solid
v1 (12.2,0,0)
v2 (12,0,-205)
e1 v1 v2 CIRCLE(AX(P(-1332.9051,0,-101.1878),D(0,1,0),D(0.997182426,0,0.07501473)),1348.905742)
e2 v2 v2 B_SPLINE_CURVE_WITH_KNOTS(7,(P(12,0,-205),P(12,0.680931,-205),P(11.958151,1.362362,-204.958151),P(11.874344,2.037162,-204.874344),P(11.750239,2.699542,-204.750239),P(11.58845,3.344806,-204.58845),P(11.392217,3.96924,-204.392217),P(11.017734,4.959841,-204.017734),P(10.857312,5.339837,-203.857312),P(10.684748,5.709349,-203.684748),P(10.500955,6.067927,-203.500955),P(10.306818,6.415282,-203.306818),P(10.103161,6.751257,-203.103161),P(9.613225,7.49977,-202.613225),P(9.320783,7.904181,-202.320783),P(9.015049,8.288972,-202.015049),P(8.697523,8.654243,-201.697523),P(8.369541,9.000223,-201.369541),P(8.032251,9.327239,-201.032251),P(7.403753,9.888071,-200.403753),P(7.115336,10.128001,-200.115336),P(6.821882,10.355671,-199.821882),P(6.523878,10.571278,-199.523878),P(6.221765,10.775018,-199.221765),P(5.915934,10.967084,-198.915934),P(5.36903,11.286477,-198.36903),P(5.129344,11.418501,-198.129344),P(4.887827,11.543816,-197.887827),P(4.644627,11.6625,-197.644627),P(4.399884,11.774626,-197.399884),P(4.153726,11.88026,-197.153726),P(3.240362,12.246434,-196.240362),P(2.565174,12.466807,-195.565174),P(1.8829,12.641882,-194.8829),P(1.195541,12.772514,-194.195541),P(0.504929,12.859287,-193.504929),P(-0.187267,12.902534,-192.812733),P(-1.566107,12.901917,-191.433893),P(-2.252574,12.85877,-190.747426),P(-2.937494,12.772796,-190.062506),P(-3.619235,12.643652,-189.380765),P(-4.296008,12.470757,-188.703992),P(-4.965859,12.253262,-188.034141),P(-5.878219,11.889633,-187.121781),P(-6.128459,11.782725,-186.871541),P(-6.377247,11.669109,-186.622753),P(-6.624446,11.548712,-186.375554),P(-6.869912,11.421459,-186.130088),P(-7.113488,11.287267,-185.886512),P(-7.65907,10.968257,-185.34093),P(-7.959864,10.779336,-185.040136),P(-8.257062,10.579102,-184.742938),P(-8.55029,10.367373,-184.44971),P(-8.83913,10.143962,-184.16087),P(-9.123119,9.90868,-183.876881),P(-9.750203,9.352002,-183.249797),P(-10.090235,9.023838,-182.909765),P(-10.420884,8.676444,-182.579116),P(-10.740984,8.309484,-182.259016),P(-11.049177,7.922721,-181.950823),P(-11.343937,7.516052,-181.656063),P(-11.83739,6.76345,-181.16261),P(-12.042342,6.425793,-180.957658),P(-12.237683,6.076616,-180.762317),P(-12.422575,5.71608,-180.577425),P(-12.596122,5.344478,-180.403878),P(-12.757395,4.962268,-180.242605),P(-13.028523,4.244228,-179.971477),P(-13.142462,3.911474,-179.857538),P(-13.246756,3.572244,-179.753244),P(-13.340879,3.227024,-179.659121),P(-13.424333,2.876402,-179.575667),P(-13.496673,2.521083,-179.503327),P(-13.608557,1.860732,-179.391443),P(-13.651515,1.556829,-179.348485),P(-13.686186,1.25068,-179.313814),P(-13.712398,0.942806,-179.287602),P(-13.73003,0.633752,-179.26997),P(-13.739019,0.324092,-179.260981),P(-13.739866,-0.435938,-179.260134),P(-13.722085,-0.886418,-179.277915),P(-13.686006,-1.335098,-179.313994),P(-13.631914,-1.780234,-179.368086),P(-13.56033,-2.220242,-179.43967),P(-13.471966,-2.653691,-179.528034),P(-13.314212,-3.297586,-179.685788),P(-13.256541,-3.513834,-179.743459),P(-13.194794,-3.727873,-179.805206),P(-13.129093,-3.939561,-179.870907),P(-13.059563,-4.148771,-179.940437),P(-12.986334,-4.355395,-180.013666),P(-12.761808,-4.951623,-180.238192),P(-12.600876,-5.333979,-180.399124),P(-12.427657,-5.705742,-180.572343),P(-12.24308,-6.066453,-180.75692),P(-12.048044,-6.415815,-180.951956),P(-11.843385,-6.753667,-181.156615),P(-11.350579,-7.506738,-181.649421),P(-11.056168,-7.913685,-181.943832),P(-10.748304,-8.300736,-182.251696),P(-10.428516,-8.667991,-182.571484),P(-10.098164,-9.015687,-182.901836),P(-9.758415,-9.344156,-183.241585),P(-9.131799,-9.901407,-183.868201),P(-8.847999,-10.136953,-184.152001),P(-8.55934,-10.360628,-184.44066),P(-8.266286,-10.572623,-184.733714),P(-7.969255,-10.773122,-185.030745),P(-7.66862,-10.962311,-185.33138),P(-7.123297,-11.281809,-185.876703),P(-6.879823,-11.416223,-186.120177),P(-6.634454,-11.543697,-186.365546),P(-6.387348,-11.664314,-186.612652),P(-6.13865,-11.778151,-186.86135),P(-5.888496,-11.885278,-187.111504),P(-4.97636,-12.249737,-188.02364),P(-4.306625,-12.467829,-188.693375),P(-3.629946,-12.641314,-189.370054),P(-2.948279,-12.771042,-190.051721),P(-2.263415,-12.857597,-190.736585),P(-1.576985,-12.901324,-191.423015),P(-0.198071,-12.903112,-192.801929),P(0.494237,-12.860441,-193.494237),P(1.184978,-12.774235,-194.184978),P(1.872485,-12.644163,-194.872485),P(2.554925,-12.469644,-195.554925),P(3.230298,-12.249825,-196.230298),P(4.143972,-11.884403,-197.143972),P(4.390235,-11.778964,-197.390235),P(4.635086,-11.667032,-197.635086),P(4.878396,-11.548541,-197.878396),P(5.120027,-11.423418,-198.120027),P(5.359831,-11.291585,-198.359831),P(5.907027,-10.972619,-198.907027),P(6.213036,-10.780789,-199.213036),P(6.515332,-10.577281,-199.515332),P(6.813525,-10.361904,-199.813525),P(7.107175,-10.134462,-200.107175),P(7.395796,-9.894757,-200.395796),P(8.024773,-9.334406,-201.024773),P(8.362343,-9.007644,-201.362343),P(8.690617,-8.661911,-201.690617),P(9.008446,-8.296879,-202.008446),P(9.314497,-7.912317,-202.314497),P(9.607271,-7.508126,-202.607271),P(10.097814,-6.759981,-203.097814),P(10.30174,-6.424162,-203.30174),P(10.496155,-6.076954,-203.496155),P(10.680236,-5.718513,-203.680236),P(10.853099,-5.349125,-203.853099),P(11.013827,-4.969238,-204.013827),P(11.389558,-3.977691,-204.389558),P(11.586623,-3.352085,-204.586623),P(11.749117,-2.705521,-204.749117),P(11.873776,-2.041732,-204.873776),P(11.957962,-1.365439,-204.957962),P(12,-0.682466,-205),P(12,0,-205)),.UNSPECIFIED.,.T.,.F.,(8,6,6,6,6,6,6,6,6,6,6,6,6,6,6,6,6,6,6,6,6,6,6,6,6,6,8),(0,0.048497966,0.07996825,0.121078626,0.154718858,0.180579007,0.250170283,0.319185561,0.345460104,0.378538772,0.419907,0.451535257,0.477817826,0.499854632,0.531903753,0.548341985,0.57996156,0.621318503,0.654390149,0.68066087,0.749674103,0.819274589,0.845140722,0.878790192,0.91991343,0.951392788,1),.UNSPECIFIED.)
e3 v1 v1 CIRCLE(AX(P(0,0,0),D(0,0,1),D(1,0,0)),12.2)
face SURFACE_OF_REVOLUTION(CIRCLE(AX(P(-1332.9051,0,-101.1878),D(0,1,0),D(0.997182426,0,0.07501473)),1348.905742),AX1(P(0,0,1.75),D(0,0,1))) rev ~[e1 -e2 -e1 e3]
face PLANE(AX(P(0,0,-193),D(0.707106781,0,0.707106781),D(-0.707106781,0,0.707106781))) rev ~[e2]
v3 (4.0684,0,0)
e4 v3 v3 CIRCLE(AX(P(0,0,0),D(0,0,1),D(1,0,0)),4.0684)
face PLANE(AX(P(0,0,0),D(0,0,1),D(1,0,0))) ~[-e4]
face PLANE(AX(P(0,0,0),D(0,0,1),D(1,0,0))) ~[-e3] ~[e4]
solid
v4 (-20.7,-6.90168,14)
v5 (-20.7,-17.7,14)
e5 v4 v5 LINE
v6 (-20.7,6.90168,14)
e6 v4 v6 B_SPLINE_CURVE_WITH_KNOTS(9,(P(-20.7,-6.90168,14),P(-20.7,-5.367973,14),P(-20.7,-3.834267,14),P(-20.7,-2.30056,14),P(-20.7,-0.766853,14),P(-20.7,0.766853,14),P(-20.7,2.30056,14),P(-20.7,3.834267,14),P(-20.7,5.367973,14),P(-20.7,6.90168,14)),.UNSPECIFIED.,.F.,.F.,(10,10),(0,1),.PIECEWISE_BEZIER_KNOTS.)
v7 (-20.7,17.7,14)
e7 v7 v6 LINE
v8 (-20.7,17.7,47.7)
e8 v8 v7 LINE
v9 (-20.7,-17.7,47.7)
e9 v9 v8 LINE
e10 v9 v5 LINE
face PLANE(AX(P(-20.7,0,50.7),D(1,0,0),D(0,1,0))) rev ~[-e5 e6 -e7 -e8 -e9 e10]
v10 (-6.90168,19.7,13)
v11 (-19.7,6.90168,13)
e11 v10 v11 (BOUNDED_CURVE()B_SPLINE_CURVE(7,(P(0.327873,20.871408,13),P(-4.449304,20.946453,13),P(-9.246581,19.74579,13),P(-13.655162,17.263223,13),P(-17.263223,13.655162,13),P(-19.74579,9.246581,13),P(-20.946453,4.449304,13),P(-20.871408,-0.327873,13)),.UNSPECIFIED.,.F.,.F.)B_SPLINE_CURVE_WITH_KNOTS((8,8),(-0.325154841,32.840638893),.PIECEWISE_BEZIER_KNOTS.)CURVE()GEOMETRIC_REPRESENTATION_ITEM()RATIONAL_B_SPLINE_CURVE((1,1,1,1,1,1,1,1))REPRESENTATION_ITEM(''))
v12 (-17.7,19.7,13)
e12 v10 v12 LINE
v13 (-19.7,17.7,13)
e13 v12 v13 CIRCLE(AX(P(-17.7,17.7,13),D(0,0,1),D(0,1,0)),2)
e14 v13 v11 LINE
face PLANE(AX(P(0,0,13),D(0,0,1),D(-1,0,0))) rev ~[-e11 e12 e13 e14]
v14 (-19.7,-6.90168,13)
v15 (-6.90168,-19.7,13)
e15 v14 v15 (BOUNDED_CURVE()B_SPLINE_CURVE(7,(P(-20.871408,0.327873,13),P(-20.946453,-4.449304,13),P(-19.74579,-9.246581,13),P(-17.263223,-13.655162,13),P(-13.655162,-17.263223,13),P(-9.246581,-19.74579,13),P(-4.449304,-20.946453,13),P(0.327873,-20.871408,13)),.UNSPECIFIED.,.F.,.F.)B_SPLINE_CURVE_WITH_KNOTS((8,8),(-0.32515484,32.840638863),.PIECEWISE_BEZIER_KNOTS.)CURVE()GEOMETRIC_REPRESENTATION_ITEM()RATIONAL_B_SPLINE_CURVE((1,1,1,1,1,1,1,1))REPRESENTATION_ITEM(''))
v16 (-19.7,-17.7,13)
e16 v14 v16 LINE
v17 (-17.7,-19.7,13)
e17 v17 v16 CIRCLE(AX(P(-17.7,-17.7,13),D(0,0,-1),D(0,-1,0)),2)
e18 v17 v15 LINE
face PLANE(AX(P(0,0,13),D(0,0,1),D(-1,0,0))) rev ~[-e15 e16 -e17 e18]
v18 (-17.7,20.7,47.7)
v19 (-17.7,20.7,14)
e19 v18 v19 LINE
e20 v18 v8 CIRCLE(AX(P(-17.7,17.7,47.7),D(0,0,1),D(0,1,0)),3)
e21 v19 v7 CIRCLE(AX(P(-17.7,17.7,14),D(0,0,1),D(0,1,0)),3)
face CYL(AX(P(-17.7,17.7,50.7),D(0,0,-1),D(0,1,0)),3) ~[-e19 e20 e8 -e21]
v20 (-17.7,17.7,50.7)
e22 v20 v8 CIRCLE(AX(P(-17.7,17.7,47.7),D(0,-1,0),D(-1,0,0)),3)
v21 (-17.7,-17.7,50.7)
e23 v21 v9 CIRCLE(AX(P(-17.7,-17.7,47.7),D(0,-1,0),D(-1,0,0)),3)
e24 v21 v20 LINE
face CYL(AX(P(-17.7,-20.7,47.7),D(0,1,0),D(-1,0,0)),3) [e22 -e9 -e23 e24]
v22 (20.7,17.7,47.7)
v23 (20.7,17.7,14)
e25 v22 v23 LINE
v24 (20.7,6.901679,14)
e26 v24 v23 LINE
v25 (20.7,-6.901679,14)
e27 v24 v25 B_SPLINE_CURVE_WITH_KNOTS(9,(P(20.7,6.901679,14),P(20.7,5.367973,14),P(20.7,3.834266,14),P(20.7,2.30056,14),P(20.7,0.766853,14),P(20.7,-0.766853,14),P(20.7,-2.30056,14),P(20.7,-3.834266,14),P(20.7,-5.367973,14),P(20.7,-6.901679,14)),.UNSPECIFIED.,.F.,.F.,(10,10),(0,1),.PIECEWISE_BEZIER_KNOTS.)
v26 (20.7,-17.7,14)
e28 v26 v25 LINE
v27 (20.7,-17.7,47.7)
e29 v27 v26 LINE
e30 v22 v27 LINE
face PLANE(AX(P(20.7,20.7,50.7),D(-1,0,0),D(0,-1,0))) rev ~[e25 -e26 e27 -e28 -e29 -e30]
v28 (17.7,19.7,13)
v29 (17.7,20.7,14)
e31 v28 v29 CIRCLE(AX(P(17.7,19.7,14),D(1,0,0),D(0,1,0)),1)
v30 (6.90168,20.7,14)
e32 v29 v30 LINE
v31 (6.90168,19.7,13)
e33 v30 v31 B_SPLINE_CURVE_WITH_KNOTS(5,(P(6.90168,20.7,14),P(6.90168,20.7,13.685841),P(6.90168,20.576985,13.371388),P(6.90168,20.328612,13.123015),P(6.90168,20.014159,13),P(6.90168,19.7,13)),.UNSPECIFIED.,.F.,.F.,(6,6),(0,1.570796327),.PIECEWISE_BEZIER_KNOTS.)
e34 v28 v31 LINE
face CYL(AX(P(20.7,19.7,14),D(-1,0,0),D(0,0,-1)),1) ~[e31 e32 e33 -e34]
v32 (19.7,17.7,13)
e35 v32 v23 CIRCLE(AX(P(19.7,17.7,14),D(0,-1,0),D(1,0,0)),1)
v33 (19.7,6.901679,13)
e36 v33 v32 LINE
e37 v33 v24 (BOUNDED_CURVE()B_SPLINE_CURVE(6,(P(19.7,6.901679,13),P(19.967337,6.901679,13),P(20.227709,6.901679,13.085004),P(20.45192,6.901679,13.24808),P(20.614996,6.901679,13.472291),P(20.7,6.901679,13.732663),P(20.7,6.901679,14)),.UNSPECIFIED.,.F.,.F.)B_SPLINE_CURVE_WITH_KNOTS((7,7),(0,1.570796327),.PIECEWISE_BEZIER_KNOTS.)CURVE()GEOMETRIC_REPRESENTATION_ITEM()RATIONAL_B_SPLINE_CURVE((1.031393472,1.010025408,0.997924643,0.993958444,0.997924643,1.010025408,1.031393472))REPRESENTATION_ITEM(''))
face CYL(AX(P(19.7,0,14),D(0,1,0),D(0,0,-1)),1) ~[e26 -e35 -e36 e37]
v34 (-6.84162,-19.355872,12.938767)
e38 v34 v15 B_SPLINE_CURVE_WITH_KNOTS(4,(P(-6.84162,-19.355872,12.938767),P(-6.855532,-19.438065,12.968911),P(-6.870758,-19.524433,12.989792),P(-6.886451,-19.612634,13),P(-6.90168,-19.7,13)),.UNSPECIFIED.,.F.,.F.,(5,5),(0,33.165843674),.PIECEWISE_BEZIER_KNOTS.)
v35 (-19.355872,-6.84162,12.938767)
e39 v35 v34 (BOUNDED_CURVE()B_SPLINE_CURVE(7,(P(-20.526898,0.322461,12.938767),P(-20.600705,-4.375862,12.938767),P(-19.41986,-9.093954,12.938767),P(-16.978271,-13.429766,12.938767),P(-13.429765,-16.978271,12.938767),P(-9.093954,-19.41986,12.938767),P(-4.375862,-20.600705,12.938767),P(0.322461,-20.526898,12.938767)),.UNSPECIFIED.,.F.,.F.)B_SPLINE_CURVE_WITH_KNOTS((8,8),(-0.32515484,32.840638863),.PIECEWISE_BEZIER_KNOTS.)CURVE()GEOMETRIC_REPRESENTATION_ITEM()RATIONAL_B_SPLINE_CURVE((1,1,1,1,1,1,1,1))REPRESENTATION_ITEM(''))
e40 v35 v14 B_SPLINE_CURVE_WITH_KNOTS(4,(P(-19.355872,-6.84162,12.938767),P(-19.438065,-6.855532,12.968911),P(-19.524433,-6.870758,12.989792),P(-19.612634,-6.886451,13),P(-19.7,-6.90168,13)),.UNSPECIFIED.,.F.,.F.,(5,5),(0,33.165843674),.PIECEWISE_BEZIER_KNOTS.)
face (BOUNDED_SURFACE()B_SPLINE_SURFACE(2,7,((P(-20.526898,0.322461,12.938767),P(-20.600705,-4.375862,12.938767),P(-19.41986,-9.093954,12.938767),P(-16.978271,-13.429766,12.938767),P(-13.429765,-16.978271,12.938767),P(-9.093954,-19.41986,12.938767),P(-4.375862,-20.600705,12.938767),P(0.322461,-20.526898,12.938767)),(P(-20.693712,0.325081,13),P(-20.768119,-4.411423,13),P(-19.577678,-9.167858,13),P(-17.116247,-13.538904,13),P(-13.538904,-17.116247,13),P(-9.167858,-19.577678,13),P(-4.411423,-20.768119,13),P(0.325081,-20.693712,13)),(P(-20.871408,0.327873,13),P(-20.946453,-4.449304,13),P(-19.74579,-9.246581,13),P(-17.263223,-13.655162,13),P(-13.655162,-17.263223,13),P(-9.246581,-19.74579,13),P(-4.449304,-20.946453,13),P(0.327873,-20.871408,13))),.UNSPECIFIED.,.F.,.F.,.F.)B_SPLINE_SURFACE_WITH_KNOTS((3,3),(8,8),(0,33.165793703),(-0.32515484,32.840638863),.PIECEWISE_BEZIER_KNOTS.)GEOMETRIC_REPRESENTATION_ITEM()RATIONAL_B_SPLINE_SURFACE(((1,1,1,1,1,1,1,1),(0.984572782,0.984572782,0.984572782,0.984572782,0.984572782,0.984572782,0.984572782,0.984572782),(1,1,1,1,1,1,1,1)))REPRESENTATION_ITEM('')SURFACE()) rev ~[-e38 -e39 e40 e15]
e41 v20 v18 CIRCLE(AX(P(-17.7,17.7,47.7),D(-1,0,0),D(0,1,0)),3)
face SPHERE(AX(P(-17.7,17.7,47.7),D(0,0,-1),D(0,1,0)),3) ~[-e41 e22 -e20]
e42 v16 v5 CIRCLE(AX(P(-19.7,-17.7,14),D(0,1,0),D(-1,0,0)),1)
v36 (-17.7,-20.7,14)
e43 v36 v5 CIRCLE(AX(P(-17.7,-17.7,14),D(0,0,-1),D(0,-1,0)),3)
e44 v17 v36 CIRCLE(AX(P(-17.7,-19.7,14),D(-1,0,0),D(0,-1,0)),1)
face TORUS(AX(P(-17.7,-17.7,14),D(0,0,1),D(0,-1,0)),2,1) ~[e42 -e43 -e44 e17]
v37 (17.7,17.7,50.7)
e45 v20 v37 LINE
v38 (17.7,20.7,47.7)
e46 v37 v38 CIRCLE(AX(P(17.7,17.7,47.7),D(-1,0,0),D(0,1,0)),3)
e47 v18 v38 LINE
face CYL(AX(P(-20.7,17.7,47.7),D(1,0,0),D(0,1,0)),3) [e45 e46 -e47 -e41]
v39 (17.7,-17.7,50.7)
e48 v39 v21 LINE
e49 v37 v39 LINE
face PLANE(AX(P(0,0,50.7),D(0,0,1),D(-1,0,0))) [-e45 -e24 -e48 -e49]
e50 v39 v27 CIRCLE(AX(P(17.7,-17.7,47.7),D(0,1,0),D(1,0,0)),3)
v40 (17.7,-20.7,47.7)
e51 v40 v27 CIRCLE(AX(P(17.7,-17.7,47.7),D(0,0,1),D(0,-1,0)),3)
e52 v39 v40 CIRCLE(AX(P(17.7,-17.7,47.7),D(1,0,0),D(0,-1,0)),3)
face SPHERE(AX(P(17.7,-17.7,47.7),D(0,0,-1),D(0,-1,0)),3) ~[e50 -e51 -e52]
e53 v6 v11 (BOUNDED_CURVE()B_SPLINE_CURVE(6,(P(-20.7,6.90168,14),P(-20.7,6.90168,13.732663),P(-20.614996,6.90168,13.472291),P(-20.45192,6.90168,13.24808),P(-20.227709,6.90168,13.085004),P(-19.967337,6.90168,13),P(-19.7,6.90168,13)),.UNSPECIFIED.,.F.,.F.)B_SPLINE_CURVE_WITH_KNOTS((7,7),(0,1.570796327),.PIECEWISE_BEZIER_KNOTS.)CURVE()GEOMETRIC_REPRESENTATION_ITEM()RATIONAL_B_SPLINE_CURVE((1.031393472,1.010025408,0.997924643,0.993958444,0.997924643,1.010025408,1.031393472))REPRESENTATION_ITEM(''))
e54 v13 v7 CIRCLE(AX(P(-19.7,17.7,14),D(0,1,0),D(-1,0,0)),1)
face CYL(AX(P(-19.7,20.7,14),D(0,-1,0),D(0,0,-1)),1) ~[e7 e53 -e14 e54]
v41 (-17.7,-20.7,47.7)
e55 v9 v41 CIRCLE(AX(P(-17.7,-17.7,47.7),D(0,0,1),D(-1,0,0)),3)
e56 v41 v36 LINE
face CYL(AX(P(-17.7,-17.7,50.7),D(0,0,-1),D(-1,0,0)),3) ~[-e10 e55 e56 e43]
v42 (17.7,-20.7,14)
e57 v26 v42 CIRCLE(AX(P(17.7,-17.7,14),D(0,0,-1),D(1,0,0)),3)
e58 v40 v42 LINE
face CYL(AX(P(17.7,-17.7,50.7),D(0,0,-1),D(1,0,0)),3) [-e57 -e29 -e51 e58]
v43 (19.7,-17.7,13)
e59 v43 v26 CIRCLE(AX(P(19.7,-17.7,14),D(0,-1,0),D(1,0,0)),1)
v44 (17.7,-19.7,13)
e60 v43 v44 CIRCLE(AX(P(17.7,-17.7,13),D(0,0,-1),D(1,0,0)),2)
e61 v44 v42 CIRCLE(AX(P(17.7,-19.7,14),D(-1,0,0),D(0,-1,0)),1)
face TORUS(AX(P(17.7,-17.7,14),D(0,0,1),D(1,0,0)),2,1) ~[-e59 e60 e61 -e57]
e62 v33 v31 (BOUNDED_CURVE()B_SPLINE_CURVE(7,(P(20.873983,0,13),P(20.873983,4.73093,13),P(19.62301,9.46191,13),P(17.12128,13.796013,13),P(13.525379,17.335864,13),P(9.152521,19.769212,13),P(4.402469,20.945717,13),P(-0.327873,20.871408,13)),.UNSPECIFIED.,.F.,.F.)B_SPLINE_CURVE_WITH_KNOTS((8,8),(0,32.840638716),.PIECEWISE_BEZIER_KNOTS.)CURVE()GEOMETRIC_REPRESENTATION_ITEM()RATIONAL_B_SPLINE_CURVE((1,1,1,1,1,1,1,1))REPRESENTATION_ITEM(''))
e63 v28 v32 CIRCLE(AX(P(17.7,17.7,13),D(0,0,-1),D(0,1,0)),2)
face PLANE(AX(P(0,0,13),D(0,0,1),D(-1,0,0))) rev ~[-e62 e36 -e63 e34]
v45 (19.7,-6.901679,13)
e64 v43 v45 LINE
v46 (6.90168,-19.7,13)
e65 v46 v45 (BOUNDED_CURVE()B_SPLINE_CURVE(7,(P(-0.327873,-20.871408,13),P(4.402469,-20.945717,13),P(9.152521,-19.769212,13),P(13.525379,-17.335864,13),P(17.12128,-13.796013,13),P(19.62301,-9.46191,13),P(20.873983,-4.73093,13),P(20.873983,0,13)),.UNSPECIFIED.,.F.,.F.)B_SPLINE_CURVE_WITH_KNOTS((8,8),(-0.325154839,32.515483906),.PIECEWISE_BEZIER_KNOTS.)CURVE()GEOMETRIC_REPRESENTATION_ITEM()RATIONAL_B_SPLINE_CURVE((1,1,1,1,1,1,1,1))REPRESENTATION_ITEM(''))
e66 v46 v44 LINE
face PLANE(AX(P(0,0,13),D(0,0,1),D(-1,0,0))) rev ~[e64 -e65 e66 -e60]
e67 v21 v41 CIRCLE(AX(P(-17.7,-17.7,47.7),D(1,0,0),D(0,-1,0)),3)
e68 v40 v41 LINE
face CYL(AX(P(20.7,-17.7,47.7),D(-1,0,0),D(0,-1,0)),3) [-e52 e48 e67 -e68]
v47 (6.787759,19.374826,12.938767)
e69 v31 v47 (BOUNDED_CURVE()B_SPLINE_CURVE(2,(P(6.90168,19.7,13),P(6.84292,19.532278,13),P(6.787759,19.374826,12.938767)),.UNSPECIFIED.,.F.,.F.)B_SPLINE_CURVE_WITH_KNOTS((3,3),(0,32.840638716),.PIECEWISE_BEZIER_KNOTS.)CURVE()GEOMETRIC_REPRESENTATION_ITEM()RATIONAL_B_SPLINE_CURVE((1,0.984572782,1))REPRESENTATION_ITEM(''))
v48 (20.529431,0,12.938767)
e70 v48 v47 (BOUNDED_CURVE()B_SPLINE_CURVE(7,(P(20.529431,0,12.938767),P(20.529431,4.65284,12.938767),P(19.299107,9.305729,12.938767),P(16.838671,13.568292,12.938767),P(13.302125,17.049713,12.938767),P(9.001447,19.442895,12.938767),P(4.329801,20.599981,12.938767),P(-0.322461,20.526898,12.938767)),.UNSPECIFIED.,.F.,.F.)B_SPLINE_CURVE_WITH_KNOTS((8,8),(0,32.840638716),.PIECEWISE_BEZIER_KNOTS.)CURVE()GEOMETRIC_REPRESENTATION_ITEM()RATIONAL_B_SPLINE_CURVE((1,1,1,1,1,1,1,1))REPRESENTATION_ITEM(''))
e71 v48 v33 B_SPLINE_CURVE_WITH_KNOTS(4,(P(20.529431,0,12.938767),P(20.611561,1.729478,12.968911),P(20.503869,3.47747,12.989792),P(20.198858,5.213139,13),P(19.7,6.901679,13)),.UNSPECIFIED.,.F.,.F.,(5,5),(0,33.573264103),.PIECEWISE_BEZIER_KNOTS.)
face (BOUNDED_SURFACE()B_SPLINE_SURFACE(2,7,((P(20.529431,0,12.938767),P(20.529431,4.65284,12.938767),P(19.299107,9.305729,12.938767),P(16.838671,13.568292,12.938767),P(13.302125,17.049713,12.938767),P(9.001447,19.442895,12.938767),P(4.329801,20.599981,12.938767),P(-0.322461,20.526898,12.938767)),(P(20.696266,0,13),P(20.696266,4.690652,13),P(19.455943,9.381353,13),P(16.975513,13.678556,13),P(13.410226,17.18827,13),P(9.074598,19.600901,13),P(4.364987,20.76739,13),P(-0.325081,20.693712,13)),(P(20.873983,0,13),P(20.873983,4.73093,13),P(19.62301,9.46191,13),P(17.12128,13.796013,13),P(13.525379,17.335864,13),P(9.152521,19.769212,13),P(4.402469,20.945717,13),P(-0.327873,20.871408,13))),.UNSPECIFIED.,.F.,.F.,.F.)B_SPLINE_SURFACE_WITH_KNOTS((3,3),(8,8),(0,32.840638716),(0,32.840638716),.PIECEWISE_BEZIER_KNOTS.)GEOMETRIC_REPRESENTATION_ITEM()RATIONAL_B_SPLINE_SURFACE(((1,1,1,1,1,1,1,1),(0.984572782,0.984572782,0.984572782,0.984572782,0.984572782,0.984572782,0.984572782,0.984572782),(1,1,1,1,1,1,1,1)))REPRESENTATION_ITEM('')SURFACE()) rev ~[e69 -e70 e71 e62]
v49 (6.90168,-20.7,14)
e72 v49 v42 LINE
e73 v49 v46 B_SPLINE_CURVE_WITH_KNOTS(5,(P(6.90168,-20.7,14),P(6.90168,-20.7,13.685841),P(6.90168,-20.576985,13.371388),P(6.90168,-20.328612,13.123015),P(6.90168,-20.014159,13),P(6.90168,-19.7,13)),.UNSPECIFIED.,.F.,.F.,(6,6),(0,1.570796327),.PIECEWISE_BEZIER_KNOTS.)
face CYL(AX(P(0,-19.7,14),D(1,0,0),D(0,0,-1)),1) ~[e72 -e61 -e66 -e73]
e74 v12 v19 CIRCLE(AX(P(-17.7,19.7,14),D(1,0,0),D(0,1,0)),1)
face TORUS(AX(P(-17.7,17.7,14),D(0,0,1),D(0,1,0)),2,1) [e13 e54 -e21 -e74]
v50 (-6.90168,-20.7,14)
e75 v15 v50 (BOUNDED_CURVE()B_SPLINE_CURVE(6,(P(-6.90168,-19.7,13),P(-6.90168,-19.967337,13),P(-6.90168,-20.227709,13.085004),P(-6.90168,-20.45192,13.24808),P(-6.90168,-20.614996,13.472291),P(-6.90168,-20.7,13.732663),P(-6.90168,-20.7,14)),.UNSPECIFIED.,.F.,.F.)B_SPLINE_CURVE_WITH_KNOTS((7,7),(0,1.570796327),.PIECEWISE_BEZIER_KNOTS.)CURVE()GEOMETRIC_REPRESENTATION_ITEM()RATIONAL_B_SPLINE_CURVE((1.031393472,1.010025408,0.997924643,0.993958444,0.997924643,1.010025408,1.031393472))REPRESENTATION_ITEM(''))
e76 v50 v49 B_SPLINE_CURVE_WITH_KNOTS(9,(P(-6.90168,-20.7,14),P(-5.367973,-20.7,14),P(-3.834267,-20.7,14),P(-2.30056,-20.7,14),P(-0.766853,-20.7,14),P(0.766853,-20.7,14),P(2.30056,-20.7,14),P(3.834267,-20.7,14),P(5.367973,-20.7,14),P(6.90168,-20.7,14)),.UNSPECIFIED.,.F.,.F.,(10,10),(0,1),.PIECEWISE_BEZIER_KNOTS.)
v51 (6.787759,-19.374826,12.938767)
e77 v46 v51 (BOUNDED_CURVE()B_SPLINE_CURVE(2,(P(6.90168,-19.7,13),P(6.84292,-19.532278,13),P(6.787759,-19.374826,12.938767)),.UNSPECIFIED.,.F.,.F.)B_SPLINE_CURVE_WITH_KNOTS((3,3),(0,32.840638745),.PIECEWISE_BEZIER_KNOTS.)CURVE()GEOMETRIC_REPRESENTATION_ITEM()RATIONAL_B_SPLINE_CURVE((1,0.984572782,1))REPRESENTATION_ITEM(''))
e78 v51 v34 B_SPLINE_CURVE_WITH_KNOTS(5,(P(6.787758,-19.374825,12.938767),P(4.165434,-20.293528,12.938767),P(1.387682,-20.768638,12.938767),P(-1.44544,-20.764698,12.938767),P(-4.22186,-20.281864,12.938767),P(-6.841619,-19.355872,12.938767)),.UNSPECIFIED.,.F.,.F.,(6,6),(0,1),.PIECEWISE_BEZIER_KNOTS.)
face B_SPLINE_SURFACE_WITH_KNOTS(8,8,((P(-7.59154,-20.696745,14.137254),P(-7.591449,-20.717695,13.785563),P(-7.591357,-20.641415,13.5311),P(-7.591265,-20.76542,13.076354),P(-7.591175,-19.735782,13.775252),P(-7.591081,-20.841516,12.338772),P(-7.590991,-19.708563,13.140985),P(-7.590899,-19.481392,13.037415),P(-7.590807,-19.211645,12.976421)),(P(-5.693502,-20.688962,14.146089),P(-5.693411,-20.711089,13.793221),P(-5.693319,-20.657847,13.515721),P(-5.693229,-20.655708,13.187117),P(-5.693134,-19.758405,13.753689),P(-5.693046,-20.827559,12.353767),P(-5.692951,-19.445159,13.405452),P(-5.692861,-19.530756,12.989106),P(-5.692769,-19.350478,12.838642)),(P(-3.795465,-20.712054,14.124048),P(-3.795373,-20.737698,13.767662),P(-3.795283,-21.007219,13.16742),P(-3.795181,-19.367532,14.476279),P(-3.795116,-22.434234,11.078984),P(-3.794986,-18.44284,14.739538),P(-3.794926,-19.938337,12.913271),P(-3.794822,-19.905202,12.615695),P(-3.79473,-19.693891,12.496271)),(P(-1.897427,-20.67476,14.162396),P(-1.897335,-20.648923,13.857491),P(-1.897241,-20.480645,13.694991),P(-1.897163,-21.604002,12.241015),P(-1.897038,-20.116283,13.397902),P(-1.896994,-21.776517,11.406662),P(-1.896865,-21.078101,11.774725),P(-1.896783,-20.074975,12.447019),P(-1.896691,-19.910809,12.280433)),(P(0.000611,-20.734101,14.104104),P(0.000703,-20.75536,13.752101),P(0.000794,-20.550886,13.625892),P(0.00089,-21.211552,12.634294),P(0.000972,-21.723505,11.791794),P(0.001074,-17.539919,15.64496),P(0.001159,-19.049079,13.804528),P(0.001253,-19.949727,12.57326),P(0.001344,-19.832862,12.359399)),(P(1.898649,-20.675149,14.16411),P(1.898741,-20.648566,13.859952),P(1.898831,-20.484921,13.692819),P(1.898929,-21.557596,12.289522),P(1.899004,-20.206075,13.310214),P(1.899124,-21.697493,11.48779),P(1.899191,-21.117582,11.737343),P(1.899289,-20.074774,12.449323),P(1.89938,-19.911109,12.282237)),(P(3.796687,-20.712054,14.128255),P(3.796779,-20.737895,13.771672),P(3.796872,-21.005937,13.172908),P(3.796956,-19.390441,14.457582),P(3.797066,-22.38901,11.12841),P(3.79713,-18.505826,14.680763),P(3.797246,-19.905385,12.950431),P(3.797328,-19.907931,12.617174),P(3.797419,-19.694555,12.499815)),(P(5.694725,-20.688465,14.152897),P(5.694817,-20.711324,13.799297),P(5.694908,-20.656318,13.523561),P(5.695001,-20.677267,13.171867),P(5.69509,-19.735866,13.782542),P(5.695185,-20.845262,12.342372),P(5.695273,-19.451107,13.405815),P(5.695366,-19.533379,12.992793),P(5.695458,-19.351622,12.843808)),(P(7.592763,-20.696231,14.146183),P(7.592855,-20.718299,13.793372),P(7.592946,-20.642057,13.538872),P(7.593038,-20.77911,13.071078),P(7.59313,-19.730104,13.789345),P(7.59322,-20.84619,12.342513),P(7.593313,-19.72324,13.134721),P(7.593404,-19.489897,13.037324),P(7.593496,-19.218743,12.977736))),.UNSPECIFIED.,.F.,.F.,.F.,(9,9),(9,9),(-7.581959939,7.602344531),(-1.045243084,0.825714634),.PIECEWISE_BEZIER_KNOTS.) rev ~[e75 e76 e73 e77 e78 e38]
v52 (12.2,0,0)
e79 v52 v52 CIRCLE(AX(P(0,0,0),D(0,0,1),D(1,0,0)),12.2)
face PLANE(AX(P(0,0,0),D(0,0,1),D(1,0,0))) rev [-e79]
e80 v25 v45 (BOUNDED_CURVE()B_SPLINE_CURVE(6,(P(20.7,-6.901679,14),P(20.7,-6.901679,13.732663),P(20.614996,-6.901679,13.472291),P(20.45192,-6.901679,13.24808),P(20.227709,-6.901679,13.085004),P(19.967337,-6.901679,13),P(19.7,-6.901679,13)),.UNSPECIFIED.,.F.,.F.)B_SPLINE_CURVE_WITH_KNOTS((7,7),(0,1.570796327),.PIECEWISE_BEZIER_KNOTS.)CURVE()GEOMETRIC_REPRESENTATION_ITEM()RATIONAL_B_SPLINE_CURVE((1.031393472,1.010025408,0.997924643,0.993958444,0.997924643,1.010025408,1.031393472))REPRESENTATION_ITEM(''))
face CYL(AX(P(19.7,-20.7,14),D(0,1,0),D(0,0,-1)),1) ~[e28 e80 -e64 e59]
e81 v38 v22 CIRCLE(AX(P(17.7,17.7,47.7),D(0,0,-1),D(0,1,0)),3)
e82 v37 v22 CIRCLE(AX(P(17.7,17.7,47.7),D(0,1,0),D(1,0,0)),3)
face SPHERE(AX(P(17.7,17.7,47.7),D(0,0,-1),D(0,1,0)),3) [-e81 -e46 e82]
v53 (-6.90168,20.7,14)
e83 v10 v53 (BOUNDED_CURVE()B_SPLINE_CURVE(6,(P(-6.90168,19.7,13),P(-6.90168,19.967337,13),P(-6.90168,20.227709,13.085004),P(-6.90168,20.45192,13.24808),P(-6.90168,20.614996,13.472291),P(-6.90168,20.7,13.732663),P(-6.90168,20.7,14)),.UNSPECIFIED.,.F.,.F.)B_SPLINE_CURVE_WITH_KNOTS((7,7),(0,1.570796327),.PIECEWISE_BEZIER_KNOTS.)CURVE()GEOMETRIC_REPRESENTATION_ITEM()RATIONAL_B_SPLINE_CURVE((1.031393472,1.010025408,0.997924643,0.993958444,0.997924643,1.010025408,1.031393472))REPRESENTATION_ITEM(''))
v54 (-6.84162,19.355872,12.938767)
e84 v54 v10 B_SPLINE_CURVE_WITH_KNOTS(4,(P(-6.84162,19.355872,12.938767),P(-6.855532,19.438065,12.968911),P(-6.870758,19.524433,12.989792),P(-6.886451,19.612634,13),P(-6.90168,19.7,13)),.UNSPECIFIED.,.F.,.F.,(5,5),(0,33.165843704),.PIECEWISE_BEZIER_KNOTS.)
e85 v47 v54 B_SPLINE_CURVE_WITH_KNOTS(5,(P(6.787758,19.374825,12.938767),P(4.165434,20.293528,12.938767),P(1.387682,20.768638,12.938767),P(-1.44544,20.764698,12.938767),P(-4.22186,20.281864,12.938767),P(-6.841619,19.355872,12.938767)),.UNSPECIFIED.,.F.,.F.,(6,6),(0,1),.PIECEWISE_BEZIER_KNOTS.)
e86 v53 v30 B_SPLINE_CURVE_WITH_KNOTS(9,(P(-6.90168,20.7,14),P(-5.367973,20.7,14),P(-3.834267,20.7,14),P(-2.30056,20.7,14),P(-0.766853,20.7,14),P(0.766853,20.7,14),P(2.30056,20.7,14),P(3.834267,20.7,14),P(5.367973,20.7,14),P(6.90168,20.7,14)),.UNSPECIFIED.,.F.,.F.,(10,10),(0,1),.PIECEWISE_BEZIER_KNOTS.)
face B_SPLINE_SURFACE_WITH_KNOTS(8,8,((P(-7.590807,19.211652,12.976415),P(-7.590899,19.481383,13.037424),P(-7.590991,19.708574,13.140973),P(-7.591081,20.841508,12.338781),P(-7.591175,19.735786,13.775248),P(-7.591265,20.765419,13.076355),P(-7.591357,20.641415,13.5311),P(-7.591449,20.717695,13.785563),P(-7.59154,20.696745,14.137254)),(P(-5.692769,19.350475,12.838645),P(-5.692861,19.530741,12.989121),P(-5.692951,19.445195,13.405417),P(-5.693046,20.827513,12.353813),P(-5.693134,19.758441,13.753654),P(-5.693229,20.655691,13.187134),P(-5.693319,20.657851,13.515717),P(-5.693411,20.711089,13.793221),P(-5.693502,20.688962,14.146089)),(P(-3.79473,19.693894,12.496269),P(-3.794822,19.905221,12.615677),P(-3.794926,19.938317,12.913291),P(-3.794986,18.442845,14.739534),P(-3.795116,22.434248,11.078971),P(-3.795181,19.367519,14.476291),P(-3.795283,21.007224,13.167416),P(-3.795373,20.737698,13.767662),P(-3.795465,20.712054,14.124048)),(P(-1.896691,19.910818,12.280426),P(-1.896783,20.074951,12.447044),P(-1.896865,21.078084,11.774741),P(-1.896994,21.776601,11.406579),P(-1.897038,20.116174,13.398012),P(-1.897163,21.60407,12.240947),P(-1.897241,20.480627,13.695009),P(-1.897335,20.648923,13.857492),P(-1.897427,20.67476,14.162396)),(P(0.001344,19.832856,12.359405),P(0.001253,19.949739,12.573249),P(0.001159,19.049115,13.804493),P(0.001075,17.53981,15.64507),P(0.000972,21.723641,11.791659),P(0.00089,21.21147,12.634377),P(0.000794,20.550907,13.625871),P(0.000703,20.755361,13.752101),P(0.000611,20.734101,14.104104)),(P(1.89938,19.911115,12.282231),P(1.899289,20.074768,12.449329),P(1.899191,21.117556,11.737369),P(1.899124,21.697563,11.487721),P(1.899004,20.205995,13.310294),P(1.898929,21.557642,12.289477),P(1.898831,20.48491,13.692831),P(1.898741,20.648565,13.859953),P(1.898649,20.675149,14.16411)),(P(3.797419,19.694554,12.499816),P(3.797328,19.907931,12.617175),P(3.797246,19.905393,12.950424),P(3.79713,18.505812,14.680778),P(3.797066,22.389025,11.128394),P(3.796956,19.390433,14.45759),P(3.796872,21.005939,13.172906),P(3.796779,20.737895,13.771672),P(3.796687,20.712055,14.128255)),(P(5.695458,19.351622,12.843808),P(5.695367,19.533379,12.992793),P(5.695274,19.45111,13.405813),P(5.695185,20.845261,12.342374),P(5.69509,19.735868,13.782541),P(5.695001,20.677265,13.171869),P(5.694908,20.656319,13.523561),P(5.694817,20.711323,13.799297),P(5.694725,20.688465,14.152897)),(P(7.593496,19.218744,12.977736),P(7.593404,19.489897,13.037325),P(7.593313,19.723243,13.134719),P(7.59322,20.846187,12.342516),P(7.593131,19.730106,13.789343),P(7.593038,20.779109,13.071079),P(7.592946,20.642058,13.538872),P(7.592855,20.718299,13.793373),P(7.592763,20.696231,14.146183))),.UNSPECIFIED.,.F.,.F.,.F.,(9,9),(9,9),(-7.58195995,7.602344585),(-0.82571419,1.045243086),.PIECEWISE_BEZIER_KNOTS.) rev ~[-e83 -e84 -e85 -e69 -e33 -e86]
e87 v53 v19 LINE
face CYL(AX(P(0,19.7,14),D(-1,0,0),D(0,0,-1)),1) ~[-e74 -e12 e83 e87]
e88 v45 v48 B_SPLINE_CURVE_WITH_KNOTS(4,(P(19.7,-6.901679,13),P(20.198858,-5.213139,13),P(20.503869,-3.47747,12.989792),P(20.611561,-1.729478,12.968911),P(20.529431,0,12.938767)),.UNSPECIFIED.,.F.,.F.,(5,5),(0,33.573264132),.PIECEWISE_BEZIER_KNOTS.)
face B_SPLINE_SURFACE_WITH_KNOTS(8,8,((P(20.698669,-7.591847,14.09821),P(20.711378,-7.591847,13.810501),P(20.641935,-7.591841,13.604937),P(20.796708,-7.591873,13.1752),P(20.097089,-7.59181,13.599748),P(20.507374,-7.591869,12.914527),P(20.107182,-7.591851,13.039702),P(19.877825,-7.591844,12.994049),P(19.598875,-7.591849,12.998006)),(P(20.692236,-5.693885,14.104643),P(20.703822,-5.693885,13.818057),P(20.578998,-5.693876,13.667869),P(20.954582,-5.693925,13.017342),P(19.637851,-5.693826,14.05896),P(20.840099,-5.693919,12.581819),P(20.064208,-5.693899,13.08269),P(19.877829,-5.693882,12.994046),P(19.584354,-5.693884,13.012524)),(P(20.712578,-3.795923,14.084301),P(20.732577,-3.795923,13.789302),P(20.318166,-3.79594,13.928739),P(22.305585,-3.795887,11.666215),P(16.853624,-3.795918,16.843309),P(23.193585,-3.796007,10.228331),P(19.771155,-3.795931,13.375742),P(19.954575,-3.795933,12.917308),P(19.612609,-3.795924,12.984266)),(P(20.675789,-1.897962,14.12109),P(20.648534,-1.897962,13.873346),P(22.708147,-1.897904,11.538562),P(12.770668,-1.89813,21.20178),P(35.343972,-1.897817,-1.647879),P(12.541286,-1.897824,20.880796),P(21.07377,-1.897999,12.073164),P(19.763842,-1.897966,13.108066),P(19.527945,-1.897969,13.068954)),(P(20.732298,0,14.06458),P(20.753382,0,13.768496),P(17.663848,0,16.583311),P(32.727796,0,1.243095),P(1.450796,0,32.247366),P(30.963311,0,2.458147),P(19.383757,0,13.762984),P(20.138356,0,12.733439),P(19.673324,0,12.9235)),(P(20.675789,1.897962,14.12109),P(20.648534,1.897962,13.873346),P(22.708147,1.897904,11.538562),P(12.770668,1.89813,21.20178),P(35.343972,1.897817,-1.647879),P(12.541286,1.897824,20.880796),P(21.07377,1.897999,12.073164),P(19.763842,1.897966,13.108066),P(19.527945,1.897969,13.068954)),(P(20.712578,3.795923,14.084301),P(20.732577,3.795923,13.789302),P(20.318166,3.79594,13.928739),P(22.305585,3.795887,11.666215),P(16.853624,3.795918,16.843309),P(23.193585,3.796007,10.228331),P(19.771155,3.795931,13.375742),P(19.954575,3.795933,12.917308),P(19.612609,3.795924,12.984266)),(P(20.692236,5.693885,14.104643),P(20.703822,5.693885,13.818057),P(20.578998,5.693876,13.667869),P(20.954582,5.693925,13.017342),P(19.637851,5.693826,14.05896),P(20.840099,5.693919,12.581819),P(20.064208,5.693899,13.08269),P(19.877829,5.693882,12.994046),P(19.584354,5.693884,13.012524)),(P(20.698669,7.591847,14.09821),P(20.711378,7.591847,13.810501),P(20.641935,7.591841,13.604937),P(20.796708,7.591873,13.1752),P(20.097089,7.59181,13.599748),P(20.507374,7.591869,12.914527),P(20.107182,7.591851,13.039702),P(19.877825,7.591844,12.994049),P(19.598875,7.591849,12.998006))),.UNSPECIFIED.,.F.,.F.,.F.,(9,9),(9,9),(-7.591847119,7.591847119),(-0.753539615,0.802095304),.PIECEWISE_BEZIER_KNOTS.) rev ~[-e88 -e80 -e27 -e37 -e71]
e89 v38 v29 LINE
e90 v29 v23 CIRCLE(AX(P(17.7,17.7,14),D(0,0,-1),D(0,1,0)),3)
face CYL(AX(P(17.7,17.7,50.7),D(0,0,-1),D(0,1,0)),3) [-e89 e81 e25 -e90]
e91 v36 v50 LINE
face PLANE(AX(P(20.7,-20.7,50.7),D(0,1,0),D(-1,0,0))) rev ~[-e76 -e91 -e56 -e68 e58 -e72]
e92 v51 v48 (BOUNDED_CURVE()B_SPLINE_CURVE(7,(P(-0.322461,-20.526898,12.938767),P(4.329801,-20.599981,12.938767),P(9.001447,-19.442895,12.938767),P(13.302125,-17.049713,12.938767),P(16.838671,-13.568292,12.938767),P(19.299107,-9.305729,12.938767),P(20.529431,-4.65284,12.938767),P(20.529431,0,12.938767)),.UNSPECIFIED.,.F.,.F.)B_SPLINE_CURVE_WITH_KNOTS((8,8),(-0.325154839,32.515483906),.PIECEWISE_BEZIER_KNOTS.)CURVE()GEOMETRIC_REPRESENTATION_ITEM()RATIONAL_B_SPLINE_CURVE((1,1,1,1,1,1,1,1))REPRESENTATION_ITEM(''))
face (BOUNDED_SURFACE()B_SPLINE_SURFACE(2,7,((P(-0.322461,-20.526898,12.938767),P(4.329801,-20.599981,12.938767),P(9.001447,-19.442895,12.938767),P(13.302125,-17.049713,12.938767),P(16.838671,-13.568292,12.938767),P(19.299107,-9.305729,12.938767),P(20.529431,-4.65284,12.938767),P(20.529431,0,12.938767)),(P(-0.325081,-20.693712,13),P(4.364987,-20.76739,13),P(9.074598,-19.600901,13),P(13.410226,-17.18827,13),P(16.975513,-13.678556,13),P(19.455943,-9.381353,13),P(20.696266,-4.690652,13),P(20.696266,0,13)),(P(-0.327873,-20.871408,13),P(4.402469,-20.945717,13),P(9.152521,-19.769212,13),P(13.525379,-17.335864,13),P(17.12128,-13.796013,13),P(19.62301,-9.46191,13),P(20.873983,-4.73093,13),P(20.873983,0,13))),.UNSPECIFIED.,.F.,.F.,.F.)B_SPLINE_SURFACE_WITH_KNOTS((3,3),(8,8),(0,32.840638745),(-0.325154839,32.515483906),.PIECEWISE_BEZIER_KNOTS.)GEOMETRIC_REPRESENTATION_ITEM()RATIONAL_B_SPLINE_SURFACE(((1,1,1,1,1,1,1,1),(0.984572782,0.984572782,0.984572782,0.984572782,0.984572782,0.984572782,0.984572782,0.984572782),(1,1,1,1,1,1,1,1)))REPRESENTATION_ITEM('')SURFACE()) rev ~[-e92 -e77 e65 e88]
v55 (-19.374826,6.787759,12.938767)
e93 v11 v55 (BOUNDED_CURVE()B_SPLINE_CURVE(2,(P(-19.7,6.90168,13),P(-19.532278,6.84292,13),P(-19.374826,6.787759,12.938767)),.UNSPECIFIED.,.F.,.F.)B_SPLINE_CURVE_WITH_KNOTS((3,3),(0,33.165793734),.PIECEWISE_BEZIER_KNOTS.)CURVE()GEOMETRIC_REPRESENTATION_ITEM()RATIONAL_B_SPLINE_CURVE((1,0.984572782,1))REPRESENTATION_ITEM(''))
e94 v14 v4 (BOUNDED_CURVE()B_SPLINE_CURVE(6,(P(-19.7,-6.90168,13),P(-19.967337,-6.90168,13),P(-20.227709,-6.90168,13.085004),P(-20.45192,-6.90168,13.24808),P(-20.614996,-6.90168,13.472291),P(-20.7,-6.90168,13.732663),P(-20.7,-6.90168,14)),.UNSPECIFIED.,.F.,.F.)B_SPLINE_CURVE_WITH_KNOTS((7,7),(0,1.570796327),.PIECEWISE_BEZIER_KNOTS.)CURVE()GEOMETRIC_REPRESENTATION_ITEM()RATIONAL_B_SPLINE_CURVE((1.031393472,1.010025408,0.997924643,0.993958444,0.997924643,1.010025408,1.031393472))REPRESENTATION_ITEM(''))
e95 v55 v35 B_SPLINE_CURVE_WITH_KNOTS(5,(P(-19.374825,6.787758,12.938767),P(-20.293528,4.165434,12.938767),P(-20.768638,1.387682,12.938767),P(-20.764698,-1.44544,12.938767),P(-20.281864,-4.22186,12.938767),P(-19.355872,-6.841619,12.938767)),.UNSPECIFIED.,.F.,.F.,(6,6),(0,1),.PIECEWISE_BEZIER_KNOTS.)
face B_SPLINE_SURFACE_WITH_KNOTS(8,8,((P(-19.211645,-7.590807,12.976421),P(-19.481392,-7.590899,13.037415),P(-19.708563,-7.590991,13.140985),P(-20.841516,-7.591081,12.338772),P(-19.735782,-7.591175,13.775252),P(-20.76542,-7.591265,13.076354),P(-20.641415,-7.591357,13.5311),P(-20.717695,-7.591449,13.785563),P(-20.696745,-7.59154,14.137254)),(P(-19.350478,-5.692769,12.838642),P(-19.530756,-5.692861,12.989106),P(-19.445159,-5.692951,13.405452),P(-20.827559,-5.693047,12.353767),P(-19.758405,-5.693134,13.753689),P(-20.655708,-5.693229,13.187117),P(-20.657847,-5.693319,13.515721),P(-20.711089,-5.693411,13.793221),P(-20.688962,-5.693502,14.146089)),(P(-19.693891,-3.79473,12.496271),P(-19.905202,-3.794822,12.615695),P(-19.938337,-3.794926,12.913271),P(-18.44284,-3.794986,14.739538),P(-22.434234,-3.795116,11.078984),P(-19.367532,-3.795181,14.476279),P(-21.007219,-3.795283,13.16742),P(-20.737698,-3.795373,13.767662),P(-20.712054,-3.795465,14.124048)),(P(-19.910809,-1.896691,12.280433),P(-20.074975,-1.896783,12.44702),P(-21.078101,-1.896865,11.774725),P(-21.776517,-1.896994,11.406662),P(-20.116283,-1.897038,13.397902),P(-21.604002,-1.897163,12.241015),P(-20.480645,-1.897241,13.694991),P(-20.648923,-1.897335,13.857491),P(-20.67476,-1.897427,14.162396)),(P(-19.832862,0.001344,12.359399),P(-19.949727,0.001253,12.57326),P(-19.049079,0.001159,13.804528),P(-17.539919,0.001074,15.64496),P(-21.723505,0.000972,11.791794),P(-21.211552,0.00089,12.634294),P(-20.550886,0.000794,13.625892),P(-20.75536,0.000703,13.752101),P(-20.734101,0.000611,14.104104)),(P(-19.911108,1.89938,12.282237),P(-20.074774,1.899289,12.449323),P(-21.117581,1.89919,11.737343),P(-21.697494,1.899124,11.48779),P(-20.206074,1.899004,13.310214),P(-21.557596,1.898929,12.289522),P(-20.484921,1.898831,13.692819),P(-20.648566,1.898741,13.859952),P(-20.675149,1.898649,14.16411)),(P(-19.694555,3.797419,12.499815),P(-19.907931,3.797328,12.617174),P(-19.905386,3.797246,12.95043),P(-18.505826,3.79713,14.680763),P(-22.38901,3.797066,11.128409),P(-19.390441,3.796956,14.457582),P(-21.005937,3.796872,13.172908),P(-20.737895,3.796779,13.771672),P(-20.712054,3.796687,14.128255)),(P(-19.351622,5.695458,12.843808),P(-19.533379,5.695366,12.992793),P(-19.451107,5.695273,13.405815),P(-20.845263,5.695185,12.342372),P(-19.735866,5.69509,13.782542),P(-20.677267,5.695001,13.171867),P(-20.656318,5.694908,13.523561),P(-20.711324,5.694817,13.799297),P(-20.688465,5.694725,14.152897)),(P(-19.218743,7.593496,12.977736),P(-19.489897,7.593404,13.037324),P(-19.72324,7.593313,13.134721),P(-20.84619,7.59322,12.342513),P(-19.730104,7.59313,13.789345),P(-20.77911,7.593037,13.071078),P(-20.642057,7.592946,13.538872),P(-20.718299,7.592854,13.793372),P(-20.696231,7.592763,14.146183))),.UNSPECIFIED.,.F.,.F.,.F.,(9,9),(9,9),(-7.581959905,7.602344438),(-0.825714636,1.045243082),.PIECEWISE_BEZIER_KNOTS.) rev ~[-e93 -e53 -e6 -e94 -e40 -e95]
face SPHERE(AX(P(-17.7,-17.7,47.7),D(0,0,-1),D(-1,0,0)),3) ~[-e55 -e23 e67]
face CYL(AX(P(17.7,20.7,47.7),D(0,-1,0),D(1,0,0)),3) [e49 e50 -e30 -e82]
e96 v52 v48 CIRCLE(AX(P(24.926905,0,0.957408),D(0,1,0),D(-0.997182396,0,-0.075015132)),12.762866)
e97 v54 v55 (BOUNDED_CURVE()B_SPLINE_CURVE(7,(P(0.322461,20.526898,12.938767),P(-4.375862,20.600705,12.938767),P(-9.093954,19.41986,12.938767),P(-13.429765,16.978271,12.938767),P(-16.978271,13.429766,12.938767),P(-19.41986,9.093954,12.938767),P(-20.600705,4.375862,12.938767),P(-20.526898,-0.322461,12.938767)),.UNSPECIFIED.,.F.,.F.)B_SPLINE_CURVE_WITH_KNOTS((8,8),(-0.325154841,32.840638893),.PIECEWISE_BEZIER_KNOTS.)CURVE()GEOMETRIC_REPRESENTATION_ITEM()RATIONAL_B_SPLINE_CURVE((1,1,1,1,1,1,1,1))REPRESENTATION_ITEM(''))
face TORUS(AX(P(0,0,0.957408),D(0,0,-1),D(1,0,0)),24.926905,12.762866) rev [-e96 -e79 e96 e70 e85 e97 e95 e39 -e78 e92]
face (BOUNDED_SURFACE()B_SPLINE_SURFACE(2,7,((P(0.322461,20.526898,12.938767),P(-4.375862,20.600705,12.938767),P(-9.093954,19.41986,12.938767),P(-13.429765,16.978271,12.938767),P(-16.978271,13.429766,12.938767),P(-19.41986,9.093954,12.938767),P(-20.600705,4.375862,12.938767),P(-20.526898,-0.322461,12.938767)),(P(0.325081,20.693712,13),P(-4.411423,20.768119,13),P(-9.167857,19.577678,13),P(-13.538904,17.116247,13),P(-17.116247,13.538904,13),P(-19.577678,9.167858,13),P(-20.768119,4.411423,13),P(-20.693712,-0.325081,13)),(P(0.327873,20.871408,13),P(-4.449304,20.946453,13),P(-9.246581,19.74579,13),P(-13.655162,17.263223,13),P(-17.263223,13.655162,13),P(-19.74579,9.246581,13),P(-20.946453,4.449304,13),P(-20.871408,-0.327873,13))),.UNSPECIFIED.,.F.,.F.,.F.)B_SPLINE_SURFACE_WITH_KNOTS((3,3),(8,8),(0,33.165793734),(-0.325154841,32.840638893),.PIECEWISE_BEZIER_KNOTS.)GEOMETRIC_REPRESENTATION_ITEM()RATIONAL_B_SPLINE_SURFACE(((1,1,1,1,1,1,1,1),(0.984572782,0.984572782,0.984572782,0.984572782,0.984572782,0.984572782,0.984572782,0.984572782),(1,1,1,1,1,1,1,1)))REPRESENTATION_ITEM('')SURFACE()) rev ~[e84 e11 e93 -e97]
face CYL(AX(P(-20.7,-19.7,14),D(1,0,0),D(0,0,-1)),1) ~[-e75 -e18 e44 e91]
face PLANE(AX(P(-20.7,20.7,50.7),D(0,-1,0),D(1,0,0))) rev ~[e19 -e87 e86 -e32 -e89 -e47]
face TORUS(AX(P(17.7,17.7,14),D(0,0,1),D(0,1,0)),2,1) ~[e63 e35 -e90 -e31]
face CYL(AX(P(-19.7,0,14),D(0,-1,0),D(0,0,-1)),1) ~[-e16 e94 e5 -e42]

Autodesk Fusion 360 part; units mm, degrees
sketch "profile" plane through (0, 0, 0) normal (0, 1, 0) x (1, 0, 0)
  line L0 (0, 0) -> (0, 205)
  line L1 (0, 205) -> (12, 205)
  arc A0 (12.2, 0) -> (12, 205) centre (-1332.9051, 101.1878) ccw
  line L2 (0, 0) -> (4.0684, 0)
  line L3 (4.0684, 0) -> (12.2, 0)
  arc A1 (12.2, 0) -> (20.7, -13) centre (24.9269, -0.9574) ccw
  line L4 (20.7, -13) -> (20.7, -50.7)
  line L5 (20.7, -50.7) -> (0, -50.7)
  line L6 (0, -50.7) -> (0, 0)
  line L7 (12, 205) -> (-48, 145)
  line L8 (-48, 145) -> (-48, 205)
  line L9 (-48, 205) -> (12, 205)
  point P0 (16, 102.5038)
  dimension "d1" = 12.2
  dimension "d2" = 12
  dimension "d3" = 205
  dimension "d4" = 16
  dimension "d5" = 20.7
  dimension "d6" = 37.7
  dimension "d7" = 13
  dimension "d10" = 45
  dimension "d11" = 60
revolve "Revolve1" add sketch "profile" angle 360 about axis through (0, 0, 1.75) along (0, 0, 1) contours L0 A0 L2 L3 L7 | L0 L1 L7 L9 makes body 1
revolve "Revolve2" add sketch "profile" angle 360 about axis through (0, 0, 1.75) along (0, 0, 1) separate body contours L2 L3 A1 L4 L5 L6 makes body 2
extrude "Extrude1" cut sketch "profile" along normal mid plane 160 contours L0 L7 L8 L9 | L0 L1 L7 L9 bodies 1
sketch "top" plane through (0, 0, 50.7) normal (0, 0, 1) x (-1, 0, 0)
  circle A0 centre (0, 0) radius 20.7
  line L0 (-20.7, 20.7) -> (20.7, 20.7)
  line L1 (20.7, 20.7) -> (20.7, -20.7)
  line L2 (20.7, -20.7) -> (-20.7, -20.7)
  line L3 (-20.7, -20.7) -> (-20.7, 20.7)
  line L4 (-20.7, 20.7) -> (20.7, -20.7) construction
  line L5 (20.7, 20.7) -> (-20.7, -20.7) construction
extrude "Extrude2" add sketch "top" against normal blind 37.7 bodies 2
fillet "Fillet1" radius 3 4 edges at (-20.7, -20.7, 31.85) (20.7, -20.7, 31.85) (-20.7, 20.7, 31.85) (20.7, 20.7, 31.85) 1 faces at (-6.9, 6.9, 50.7) on bodies 2
fillet "Fillet1" radius 1 4 faces at (-16.6337, -16.6327, 13) (-16.6327, 16.6337, 13) (16.6335, 16.633, 13) (16.633, -16.6335, 13) on bodies 2
equation "d1 = ( 24.4 / 2 ) * 1 mm"
equation "d4 = ( 32 / 2 ) * 1 mm"
equation "d5 = ( 41.4 / 2 ) * 1 mm"
equation "d14 = -d6"
